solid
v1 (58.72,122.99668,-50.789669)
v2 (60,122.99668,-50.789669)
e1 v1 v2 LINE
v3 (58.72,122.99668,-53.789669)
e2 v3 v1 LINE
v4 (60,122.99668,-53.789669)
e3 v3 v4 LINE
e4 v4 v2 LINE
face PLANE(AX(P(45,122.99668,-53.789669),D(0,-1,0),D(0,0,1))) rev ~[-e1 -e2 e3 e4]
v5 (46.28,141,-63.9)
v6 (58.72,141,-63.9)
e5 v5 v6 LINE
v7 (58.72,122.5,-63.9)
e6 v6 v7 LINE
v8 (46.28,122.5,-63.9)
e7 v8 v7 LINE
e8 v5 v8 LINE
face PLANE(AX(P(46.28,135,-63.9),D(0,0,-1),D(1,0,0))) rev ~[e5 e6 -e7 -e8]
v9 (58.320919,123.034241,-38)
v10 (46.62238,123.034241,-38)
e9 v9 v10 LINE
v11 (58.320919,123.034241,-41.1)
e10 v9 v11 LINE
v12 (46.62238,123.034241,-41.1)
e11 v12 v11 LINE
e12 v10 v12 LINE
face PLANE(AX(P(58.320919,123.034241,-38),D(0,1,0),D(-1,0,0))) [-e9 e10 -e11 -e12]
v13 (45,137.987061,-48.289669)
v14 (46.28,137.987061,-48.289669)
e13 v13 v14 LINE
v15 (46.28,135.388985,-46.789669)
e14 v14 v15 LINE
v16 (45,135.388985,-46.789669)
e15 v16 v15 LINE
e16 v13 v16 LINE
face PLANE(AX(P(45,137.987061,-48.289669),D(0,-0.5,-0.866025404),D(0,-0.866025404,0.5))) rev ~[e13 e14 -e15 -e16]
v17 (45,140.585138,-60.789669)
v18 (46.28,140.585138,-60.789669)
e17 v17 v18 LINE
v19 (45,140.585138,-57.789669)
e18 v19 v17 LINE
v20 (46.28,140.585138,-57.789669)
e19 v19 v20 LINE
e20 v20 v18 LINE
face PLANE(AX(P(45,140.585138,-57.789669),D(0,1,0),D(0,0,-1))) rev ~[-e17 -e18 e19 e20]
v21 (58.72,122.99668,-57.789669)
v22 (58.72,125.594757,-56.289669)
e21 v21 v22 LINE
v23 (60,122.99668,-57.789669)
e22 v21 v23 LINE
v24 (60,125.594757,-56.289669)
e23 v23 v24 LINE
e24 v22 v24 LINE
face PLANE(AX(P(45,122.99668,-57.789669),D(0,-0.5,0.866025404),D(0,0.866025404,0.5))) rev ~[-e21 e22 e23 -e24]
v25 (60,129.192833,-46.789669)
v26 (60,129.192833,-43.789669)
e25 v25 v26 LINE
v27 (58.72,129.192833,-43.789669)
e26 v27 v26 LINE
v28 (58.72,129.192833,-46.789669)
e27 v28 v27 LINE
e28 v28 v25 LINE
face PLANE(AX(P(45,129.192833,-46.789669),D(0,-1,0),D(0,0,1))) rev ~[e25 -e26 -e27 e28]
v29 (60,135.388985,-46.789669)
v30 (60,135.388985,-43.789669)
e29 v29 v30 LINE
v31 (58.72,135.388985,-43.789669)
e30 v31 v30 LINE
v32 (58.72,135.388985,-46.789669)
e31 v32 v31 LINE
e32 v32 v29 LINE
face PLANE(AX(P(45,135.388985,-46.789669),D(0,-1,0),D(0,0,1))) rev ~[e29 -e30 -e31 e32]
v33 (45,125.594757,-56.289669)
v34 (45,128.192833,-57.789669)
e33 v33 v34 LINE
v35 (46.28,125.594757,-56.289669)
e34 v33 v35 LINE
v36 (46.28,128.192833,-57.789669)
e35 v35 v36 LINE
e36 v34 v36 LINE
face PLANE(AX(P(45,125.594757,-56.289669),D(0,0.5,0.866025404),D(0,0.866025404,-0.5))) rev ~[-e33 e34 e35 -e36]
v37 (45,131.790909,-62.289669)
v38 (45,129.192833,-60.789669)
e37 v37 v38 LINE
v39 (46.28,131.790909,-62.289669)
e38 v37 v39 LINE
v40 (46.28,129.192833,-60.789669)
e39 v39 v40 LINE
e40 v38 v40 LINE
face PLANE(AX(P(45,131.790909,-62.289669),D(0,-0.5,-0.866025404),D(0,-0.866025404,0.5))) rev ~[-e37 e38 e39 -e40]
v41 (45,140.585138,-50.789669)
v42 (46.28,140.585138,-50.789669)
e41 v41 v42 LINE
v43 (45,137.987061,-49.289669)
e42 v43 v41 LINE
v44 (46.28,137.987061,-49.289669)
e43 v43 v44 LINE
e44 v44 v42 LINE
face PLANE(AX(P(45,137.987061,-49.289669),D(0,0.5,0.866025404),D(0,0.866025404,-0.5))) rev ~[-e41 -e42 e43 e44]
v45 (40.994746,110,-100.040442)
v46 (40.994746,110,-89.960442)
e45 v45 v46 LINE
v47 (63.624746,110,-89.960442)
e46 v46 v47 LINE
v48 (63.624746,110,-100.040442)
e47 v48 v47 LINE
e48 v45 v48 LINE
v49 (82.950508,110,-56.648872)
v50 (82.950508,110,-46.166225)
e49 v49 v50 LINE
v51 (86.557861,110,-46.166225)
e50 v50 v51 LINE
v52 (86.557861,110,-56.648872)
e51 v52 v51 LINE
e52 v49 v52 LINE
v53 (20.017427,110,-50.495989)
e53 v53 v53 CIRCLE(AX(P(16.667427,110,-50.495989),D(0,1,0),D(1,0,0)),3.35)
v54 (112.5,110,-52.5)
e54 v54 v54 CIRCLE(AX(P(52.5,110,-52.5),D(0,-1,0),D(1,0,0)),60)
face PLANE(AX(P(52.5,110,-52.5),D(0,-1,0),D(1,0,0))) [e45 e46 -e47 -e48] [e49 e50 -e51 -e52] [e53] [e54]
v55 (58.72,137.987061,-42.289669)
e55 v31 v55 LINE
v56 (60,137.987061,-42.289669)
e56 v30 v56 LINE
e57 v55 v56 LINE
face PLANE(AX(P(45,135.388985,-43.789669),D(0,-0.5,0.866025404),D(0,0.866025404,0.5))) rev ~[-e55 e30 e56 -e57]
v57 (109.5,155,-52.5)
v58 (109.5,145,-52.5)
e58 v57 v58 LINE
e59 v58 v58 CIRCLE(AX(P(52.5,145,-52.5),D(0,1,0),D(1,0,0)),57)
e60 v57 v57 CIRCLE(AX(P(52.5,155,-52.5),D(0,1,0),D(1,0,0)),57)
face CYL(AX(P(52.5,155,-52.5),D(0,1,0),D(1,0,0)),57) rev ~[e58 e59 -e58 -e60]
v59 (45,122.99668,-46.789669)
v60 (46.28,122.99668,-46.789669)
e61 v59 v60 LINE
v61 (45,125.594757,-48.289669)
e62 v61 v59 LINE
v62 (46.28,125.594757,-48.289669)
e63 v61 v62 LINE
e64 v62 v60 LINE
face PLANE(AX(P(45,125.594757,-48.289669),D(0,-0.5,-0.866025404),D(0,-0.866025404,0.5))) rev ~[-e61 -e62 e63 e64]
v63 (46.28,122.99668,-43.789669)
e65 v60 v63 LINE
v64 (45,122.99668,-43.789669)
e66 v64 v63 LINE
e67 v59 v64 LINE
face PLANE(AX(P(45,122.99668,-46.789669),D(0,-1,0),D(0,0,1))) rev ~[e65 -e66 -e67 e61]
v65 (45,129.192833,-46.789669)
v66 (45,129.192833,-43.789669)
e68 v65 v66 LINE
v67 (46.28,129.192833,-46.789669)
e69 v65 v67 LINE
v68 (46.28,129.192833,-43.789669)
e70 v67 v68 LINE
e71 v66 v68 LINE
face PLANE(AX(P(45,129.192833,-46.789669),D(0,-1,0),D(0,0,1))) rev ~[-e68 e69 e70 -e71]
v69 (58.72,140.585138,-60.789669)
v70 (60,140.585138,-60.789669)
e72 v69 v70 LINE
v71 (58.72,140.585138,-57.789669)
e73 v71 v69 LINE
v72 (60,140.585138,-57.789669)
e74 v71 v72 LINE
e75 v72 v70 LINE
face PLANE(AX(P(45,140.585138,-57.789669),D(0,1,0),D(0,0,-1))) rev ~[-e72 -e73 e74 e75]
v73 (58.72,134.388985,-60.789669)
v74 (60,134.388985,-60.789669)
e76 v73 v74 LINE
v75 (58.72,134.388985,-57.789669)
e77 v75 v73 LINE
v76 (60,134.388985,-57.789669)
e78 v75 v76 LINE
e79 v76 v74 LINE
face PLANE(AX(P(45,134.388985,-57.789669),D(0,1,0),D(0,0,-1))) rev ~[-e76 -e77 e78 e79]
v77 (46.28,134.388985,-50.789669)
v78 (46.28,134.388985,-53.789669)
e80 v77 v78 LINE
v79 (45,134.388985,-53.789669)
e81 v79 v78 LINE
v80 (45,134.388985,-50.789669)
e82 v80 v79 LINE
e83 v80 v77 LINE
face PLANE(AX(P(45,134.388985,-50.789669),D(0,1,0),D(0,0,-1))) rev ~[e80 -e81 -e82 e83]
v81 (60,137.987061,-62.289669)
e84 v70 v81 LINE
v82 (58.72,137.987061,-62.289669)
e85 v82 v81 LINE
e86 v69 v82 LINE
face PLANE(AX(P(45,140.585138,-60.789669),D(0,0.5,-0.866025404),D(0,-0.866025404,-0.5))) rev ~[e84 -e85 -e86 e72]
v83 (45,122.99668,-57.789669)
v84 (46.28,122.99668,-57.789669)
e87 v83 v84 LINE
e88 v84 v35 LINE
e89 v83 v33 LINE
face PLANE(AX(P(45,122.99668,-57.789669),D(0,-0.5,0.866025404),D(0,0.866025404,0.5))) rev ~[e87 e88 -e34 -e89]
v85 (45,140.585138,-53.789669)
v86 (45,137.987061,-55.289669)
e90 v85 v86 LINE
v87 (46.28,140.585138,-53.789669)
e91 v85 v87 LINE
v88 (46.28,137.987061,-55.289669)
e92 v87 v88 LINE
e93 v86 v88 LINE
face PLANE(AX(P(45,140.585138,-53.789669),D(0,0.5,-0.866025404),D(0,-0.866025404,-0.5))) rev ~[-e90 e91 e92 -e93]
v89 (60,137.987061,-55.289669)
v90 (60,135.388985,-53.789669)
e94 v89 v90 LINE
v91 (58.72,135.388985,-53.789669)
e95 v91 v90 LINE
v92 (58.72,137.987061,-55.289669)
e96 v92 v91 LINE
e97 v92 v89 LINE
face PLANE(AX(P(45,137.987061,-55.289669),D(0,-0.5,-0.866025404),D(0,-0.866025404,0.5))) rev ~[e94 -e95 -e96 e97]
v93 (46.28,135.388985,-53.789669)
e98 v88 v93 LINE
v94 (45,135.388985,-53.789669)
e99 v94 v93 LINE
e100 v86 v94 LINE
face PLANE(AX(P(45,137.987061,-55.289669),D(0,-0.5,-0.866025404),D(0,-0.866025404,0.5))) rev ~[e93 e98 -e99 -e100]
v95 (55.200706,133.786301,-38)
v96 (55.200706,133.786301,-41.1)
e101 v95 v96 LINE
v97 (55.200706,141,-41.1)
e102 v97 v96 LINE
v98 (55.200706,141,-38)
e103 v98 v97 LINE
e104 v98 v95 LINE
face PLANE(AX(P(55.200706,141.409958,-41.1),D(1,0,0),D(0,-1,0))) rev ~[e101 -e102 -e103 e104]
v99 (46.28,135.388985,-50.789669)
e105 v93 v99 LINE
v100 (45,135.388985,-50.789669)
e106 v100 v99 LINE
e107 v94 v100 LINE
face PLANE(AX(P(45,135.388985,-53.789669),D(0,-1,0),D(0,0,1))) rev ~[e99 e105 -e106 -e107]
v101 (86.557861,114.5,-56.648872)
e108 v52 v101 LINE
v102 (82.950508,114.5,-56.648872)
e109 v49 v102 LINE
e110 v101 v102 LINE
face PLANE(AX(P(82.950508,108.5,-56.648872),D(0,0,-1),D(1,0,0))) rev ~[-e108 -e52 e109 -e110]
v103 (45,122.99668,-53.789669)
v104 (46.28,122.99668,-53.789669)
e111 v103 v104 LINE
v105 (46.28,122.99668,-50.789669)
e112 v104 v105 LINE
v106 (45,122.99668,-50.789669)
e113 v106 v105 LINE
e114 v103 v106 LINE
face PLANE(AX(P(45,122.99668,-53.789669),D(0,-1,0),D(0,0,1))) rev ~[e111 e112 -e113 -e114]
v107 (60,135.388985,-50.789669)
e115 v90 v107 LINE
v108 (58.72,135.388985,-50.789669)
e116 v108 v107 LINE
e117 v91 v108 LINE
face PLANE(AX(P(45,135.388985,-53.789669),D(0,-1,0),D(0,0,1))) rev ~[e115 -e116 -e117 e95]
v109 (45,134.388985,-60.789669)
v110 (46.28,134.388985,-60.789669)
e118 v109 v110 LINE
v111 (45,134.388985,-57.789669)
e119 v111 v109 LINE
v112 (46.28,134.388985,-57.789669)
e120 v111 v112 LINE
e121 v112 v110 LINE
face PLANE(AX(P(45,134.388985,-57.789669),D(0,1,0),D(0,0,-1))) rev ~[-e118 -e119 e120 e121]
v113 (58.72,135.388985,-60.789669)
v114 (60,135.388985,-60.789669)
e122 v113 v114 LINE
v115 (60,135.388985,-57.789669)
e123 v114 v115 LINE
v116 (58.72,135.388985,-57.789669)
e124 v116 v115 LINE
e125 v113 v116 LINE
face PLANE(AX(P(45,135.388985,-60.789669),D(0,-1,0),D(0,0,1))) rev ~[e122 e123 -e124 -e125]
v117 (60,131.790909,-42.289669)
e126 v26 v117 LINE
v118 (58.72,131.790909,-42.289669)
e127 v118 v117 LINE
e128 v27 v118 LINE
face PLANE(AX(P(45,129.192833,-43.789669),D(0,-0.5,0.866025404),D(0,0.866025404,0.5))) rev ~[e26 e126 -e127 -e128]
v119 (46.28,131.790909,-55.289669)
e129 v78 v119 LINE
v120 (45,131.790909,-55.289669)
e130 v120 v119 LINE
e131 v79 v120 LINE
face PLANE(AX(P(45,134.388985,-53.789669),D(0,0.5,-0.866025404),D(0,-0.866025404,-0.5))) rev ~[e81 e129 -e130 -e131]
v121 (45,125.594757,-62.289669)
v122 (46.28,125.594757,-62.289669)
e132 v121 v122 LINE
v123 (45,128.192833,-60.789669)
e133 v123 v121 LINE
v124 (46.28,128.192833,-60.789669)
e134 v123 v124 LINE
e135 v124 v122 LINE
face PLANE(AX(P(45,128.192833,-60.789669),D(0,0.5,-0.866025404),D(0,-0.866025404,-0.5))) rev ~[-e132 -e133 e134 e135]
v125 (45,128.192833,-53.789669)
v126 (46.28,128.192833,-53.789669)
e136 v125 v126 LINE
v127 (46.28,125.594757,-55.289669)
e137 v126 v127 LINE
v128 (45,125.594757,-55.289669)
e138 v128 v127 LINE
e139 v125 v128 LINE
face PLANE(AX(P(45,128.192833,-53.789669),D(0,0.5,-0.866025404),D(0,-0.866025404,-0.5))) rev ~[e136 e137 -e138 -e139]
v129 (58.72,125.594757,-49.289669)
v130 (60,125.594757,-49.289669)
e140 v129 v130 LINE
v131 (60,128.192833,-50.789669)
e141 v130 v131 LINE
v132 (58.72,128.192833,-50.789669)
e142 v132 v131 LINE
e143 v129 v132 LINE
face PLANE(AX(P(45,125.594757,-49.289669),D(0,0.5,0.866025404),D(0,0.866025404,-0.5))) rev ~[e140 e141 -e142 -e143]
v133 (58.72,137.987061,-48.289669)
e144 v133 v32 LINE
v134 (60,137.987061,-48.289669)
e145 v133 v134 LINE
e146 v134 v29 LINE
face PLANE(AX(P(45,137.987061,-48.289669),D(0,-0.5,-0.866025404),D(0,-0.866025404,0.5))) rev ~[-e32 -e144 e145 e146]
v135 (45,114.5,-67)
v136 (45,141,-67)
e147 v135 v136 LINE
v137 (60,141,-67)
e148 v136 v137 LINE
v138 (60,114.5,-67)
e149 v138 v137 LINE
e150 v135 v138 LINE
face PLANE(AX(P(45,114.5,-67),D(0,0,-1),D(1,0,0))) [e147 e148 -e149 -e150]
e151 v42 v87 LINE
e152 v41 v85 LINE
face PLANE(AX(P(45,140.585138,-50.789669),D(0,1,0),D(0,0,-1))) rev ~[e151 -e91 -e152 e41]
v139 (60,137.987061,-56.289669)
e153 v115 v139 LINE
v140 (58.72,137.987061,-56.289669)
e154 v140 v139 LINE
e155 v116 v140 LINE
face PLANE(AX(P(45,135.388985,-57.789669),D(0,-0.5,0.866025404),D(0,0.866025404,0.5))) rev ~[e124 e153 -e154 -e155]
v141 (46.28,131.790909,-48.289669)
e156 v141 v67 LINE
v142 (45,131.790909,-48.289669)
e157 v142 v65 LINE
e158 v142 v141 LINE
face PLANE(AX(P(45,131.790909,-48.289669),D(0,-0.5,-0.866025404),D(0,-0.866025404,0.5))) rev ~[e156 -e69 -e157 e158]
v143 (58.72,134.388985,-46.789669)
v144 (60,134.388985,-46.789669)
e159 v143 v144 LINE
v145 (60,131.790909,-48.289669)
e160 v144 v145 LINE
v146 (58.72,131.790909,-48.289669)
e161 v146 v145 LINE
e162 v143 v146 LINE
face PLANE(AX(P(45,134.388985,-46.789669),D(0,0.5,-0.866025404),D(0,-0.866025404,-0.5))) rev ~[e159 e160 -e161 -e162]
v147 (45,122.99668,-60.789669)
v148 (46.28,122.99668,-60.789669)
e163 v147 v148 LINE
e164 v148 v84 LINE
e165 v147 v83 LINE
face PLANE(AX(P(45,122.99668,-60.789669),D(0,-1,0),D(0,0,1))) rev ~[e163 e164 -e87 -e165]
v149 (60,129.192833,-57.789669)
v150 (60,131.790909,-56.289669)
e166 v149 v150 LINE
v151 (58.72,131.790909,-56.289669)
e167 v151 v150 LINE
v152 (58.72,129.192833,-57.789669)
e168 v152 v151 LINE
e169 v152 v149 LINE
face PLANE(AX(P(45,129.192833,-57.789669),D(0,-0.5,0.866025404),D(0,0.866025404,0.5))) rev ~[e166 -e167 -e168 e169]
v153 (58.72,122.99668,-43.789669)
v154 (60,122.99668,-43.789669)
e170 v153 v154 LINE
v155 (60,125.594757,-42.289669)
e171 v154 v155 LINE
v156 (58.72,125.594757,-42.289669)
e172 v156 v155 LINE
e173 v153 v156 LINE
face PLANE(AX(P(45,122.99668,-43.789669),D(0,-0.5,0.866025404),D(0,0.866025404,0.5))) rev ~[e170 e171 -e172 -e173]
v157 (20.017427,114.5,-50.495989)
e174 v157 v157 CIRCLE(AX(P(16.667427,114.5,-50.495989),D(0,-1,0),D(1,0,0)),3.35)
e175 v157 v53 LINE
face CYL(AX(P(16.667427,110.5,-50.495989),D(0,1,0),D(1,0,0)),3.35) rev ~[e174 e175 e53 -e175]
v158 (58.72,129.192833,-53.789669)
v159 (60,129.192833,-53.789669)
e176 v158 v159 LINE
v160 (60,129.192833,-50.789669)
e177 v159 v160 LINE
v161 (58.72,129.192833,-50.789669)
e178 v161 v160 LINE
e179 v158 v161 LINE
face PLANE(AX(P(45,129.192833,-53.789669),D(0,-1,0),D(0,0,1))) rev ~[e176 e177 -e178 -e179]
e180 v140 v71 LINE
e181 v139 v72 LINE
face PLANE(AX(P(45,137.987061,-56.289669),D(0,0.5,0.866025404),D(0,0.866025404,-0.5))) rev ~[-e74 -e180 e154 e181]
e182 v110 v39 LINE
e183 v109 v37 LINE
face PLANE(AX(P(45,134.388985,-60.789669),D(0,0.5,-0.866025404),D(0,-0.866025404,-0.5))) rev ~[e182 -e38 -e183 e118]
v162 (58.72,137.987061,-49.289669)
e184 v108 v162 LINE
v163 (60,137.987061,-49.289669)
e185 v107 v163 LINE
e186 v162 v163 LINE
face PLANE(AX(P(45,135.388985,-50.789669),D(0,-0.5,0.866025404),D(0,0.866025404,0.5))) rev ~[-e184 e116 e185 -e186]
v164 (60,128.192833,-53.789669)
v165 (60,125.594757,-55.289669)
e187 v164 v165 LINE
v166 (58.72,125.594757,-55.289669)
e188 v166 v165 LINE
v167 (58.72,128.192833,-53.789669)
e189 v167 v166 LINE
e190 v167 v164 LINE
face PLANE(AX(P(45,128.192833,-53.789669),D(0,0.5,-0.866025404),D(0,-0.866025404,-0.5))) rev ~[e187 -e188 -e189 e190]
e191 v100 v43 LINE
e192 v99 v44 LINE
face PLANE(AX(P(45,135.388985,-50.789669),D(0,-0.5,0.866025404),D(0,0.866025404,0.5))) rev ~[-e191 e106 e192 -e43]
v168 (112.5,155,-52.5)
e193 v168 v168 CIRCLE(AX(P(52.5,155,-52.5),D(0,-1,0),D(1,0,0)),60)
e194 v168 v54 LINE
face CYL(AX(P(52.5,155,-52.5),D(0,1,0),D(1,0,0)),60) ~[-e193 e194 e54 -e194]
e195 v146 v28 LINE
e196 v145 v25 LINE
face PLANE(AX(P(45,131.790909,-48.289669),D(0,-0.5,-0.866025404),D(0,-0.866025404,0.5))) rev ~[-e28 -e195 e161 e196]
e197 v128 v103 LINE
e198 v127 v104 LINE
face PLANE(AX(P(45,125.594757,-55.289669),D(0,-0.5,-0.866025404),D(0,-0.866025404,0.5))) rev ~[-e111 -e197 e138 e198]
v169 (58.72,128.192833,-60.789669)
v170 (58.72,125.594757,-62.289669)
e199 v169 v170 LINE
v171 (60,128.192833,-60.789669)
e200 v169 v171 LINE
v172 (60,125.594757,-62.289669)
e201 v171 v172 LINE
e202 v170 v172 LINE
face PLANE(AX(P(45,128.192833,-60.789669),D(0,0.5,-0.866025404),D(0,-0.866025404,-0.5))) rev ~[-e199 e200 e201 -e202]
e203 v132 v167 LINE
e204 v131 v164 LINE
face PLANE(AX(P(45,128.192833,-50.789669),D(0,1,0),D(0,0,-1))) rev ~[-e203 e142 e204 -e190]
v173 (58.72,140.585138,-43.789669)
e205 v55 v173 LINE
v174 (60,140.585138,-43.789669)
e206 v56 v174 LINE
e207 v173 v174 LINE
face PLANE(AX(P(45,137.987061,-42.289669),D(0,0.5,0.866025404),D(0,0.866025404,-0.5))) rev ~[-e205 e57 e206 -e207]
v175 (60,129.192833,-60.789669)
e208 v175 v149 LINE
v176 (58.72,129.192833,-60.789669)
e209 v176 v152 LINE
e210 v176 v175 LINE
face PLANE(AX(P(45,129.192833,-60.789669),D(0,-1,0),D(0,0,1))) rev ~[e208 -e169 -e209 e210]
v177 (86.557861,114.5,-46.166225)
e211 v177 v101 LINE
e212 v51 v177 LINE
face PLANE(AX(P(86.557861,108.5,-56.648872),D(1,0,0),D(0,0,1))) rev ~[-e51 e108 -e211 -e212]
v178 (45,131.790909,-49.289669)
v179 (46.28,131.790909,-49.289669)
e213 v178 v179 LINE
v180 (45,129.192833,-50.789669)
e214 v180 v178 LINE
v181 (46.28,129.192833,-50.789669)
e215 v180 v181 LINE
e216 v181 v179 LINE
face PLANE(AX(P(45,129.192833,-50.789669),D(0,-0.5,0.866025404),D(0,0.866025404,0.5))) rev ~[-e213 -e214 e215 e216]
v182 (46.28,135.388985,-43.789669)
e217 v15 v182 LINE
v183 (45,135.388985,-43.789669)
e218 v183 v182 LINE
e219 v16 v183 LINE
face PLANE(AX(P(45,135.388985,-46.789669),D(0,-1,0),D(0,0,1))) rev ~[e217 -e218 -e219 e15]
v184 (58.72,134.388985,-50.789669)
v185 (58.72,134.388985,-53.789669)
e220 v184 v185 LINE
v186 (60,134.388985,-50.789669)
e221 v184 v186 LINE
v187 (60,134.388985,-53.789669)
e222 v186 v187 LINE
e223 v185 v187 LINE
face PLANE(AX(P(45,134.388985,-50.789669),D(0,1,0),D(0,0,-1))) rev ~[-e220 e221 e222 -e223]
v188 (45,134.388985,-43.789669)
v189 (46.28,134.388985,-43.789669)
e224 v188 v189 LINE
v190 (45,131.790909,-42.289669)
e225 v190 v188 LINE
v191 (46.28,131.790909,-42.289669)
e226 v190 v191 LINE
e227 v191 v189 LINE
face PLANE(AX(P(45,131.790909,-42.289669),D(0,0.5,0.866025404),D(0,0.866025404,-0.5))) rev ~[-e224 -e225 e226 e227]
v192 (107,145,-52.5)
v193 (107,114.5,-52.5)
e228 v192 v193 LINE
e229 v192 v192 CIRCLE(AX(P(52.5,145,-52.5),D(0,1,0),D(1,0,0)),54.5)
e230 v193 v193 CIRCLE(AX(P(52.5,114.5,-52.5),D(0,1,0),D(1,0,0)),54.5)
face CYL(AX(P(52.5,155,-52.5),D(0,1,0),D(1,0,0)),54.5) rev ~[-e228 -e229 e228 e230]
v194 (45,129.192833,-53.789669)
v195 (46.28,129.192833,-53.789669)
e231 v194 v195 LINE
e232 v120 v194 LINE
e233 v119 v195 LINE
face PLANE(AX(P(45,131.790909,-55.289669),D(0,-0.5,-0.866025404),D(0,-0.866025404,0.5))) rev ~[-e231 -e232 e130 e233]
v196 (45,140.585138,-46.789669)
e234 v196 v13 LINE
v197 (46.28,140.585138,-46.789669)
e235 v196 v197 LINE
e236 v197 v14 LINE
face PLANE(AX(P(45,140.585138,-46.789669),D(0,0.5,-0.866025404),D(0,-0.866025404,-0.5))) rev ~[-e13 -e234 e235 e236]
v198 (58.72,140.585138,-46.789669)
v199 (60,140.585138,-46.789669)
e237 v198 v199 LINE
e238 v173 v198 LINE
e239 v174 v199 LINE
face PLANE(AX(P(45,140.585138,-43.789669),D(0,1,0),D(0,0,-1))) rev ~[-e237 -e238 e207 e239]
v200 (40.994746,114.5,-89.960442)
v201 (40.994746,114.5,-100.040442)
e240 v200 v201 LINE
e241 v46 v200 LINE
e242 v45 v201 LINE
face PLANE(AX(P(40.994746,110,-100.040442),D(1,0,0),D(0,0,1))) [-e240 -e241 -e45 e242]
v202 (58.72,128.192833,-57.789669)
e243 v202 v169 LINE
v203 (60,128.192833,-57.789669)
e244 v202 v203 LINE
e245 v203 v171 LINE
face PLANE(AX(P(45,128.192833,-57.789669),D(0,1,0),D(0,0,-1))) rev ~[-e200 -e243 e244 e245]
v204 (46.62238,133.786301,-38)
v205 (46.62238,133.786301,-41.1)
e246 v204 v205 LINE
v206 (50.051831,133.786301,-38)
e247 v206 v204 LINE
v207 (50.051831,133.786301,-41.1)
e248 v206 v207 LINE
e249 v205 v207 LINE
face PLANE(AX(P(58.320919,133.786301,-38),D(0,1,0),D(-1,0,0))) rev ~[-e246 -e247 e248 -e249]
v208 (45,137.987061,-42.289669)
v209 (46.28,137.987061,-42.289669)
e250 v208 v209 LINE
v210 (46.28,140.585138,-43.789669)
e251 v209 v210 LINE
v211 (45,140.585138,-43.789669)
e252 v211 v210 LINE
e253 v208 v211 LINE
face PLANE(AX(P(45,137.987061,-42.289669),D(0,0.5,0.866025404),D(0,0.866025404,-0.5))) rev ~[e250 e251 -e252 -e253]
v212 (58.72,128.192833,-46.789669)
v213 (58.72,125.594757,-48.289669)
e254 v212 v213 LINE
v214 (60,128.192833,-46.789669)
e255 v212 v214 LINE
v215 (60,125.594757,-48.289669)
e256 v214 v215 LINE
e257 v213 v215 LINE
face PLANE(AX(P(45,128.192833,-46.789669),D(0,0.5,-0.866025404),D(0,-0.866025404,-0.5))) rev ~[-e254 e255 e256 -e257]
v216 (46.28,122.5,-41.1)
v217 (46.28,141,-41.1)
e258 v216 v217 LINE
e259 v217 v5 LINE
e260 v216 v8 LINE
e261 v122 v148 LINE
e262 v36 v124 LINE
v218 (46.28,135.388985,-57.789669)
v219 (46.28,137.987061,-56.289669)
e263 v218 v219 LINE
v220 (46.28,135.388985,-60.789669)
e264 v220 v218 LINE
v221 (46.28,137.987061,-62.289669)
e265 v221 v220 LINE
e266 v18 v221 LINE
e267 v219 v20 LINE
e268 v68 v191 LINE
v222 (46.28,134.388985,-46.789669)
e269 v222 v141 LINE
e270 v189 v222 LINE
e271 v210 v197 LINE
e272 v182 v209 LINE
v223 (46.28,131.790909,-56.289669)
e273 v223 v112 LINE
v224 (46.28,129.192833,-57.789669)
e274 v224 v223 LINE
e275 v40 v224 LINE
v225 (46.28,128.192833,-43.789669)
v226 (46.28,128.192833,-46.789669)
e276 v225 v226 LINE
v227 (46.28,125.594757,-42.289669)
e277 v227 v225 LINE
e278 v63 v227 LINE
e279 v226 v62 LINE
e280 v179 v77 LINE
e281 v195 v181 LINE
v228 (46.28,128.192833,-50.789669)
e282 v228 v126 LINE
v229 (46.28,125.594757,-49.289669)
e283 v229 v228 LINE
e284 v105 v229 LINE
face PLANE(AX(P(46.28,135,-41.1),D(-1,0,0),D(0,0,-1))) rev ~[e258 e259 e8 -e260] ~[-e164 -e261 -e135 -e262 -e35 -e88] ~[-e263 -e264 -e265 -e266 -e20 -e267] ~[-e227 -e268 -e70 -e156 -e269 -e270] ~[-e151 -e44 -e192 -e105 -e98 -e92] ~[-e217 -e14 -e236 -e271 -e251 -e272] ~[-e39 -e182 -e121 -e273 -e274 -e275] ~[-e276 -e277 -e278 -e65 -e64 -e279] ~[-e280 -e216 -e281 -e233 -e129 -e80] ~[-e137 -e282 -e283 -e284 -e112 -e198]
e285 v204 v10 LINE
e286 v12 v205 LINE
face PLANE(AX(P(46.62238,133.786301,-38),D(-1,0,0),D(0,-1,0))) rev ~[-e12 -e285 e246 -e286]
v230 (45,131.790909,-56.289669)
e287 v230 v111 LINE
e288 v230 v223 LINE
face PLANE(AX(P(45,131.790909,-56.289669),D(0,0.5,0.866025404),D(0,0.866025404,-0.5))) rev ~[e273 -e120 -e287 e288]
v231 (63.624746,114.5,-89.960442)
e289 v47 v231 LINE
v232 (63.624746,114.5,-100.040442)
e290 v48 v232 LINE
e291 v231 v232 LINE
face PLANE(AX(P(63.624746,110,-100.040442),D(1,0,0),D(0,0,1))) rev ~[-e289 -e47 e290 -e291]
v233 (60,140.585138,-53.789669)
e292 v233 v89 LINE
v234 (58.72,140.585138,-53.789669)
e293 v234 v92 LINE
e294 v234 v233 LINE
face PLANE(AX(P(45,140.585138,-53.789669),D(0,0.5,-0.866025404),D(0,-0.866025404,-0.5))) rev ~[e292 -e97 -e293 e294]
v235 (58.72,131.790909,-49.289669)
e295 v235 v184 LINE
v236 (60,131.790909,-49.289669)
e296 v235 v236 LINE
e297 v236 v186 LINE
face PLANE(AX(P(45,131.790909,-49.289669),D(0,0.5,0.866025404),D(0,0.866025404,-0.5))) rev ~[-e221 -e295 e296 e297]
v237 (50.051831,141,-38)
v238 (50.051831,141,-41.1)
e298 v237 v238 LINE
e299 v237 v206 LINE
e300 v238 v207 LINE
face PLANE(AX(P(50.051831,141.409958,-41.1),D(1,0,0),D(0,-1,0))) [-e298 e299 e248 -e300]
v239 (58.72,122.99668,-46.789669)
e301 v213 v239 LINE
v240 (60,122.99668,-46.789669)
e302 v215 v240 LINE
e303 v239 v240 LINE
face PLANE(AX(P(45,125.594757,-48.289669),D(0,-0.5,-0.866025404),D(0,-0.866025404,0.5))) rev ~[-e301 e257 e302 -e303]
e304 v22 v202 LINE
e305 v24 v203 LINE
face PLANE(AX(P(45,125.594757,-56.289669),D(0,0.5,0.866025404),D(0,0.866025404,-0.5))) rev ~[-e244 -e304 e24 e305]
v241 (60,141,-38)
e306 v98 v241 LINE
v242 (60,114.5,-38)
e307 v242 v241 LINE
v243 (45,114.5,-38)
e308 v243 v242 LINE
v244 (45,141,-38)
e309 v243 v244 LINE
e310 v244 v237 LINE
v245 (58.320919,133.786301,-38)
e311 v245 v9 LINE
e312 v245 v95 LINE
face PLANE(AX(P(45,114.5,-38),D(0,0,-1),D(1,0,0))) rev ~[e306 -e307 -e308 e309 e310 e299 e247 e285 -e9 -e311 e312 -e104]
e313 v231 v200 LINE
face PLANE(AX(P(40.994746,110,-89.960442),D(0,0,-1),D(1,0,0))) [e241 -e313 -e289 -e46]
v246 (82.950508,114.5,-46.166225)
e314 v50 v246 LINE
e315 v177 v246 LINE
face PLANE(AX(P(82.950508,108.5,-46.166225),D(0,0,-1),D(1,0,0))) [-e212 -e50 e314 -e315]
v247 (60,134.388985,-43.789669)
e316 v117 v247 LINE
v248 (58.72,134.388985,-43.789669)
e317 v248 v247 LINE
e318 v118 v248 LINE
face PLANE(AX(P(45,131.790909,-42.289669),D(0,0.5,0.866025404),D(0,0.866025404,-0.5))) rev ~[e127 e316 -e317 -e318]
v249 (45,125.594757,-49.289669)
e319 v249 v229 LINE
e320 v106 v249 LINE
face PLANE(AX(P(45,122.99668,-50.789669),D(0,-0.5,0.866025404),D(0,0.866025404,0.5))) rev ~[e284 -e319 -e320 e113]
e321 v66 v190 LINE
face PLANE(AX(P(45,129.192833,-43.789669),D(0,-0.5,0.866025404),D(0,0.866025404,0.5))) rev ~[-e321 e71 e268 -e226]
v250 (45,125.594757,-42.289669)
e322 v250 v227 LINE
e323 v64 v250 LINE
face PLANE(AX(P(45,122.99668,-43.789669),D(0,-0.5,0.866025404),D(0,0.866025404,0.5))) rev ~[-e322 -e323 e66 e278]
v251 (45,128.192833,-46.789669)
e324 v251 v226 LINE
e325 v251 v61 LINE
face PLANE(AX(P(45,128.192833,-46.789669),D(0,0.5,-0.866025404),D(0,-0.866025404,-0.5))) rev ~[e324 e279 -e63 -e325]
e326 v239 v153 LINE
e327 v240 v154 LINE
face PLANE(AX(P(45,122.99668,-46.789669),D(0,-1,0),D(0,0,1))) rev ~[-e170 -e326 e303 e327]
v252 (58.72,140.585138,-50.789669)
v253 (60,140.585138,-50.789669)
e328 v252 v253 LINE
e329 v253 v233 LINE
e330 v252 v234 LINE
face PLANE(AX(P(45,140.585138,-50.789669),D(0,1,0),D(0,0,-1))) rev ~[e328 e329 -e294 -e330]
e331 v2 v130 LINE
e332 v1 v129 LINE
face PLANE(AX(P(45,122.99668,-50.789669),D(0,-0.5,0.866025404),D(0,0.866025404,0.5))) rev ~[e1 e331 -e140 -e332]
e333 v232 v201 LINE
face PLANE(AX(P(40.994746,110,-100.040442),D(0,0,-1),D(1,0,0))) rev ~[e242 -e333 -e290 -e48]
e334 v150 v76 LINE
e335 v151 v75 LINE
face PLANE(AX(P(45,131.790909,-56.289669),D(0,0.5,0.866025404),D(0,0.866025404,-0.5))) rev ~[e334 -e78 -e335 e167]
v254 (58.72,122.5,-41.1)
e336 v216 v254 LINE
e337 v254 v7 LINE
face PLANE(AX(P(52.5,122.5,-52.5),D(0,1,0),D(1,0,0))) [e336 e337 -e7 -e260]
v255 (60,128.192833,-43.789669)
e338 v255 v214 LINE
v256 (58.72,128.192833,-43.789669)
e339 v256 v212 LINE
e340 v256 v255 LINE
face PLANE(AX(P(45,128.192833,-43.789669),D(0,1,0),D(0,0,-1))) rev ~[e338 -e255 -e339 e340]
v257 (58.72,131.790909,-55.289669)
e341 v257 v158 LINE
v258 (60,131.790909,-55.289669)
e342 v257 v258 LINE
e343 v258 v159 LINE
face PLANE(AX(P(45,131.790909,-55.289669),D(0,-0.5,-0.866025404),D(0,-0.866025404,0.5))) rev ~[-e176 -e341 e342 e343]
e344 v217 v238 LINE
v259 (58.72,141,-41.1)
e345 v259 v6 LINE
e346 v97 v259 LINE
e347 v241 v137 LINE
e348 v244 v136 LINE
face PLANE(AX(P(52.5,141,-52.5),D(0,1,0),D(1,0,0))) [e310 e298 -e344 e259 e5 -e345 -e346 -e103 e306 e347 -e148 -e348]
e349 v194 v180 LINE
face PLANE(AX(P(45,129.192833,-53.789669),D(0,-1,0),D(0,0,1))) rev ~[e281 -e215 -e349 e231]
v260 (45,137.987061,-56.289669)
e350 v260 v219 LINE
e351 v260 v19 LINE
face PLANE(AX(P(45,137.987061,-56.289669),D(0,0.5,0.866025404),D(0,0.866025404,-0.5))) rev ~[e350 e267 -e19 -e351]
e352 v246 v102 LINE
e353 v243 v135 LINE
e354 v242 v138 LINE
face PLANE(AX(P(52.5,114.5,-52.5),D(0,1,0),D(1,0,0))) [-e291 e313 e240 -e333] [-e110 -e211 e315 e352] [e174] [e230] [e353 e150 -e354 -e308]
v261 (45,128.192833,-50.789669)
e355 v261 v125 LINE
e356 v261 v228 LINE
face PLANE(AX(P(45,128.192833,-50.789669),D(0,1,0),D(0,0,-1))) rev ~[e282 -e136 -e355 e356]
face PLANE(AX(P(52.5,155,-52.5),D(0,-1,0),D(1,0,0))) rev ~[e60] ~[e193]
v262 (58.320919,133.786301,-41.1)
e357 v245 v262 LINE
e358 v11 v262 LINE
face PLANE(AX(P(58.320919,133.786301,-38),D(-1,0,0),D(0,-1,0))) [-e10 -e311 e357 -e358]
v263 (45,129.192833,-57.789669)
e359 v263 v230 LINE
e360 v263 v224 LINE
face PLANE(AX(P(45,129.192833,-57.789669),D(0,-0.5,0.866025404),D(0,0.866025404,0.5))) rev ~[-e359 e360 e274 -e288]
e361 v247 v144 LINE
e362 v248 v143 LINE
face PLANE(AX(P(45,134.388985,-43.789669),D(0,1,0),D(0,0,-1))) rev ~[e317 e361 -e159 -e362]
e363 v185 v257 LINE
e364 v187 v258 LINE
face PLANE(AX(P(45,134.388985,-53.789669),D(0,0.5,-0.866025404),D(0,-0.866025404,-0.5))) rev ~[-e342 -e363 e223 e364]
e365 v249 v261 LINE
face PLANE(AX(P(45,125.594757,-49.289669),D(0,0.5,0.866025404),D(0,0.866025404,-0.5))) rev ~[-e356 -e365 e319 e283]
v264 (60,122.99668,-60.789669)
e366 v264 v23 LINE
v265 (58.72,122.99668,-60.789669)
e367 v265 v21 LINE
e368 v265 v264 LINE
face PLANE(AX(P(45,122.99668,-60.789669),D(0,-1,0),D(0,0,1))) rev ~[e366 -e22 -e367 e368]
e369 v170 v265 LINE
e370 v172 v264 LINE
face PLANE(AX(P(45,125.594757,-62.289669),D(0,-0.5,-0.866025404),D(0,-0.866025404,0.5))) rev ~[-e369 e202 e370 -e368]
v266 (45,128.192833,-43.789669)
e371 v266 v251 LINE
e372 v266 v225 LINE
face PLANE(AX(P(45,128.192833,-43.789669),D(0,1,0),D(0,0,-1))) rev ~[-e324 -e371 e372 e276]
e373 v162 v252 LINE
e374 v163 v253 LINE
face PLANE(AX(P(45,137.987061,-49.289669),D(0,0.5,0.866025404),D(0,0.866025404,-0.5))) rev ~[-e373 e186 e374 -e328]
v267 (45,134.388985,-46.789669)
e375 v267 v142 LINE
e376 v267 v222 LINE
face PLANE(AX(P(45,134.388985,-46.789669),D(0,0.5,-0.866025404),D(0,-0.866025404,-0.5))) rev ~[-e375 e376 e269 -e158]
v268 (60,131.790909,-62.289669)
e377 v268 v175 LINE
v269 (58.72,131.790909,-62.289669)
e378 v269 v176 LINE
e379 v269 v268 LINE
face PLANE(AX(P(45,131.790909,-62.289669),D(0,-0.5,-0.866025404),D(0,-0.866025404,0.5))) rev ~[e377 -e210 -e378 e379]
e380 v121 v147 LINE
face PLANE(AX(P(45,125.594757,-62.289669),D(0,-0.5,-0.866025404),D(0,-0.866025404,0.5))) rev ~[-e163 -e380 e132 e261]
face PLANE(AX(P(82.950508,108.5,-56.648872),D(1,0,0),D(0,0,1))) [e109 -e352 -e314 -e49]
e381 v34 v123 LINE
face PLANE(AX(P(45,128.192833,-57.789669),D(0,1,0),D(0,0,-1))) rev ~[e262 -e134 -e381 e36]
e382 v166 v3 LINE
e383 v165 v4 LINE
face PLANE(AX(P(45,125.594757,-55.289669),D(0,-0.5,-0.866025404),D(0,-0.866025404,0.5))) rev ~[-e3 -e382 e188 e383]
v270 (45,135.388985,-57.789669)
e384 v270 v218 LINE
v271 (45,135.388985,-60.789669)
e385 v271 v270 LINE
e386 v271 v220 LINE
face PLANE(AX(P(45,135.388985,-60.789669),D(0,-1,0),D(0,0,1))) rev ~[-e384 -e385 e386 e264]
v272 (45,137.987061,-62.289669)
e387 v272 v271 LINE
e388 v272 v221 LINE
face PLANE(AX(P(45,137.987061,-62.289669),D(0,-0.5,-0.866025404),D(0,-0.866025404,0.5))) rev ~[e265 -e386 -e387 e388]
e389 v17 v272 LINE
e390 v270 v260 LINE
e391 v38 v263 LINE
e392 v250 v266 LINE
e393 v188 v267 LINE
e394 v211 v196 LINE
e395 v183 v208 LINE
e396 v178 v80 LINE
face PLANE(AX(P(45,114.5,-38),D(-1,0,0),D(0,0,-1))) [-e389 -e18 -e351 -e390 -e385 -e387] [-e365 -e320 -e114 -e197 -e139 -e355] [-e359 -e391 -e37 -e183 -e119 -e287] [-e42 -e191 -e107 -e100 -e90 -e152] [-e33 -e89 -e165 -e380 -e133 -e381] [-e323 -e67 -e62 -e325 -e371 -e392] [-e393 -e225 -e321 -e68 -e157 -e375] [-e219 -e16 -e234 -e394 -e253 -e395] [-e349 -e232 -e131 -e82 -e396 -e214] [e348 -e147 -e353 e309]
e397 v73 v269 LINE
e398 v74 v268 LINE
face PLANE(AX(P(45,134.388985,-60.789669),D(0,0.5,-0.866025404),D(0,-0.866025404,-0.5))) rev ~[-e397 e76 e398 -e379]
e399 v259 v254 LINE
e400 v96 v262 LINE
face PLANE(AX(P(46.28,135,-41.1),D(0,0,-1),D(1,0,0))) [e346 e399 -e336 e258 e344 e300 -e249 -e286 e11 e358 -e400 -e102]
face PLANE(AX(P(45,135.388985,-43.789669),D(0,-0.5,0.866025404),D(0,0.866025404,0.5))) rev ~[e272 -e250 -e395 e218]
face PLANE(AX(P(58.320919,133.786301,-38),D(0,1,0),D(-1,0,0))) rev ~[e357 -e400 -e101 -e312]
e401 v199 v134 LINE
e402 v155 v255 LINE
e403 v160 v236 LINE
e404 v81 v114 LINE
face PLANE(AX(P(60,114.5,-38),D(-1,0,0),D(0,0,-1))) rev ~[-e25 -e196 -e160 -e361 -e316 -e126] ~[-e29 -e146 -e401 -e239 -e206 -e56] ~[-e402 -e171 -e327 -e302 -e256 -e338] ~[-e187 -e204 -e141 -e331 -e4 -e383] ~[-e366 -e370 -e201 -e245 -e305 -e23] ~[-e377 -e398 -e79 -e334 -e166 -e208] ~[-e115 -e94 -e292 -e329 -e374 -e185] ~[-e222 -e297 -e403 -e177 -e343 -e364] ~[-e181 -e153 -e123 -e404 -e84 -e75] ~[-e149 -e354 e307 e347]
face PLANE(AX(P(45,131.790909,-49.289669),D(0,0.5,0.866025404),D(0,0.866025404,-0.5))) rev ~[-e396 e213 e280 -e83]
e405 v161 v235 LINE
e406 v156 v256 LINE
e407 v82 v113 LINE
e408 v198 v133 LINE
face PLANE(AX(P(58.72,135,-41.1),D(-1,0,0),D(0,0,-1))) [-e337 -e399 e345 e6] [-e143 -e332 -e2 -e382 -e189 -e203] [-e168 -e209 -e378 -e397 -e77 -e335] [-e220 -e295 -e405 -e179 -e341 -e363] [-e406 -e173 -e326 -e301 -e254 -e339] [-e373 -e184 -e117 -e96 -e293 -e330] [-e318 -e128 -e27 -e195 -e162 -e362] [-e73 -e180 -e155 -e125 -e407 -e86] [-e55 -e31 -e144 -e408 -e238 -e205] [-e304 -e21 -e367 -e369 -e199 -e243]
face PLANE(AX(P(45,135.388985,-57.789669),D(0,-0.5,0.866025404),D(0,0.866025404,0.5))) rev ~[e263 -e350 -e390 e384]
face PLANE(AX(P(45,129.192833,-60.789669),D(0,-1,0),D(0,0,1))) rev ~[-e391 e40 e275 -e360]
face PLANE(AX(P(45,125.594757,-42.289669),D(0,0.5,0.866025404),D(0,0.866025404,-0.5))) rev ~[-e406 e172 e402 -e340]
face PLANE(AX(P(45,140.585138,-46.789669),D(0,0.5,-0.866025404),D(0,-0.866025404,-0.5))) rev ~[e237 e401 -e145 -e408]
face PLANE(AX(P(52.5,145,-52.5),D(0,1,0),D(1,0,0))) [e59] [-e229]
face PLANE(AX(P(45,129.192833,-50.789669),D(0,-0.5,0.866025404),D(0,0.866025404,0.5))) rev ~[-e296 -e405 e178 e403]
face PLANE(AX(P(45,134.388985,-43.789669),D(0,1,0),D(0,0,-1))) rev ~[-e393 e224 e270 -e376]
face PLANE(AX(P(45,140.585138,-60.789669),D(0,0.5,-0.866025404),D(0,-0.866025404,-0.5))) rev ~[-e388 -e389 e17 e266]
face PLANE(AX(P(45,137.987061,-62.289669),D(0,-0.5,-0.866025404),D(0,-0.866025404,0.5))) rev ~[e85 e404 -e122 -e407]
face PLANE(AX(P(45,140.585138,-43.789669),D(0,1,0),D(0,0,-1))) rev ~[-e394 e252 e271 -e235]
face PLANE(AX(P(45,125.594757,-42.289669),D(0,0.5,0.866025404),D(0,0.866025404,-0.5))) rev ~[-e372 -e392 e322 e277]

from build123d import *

# Parameters (mm, degrees)
SKETCH046_R          = 60
PAD019_DEPTH         = 45
SKETCH047_R          = 54.5
POCKET020_DEPTH      = 40.5
SKETCH054_W          = 13.996185
SKETCH054_H          = 10.514995
POCKET022_DEPTH      = 3
SKETCH055_W          = 3.607353
SKETCH055_H          = 10.482647
POCKET023_DEPTH      = 46.501
SKETCH056_W          = 22.63
SKETCH056_H          = 10.08
POCKET024_DEPTH      = 5
SKETCH058_R          = 3.35
POCKET025_DEPTH      = 5
POCKET025_DEPTH_BACK = 100
SKETCH059_R          = 57
POCKET026_DEPTH      = 10
SKETCH061_W          = 15
SKETCH061_H          = 29
PAD028_DEPTH         = 26.5
SKETCH062_W          = 12.44
SKETCH062_H          = 22.8
POCKET027_DEPTH      = 12.5
POCKET027_DEPTH_BACK = 6
SKETCH063_W          = 11.698539
SKETCH063_H          = 10.75206
POCKET031_DEPTH      = 5
POCKET032_DEPTH      = 18.28
SKETCH070_W          = 5.148875
SKETCH070_H          = 8.518356
POCKET033_DEPTH      = 5


with BuildPart() as part:
    # Sketch046 → Pad019 (new body)
    with BuildSketch(Plane.XZ):
        with Locations((52.5, -52.5)):
            Circle(SKETCH046_R)
    extrude(amount=PAD019_DEPTH)

    # Sketch047 (on Face2 of Pad019) → Pocket020 (cut)
    with BuildSketch(Plane(origin=(0, 0, 0), x_dir=(1, 0, 0), z_dir=(0, 1, 0))):
        with Locations((52.5, 52.5)):
            Circle(SKETCH047_R)
    extrude(amount=-POCKET020_DEPTH, mode=Mode.SUBTRACT)

    # Sketch054 → Pocket022 (cut)
    with BuildSketch(Plane.XZ.offset(52.5)):
        with Locations((89.9295195, -51.4149685)):
            Rectangle(SKETCH054_W, SKETCH054_H)
    extrude(amount=-POCKET022_DEPTH, mode=Mode.SUBTRACT)

    # Sketch055 (on Face37 of Pocket022) → Pocket023 (cut, through all)
    with BuildSketch(Plane.XZ.offset(46.5)):
        with Locations((84.7541845, -51.4075485)):
            Rectangle(SKETCH055_W, SKETCH055_H)
    extrude(amount=-POCKET023_DEPTH, mode=Mode.SUBTRACT)

    # Sketch056 (on Face3 of Pocket023) → Pocket024 (cut)
    with BuildSketch(Plane.XZ.offset(45)):
        with Locations((52.3097458031, -95.0004416785)):
            Rectangle(SKETCH056_W, SKETCH056_H)
    extrude(amount=-POCKET024_DEPTH, mode=Mode.SUBTRACT)

    # Sketch058 → Pocket025 (cut, two sides)
    with BuildSketch(Plane(origin=(0, -44.5, 0), x_dir=(1, 0, 0), z_dir=(0, 1, 0))) as pocket025_sk:
        with Locations((16.6674273862, 50.4959887414)):
            Circle(SKETCH058_R)
    extrude(amount=-POCKET025_DEPTH, mode=Mode.SUBTRACT)
    extrude(pocket025_sk.sketch, amount=POCKET025_DEPTH_BACK, mode=Mode.SUBTRACT)

    # Sketch059 (on Face2 of Pocket025) → Pocket026 (cut)
    with BuildSketch(Plane(origin=(0, 0, 0), x_dir=(1, 0, 0), z_dir=(0, 1, 0))):
        with Locations((52.5, 52.5)):
            Circle(SKETCH059_R)
    extrude(amount=-POCKET026_DEPTH, mode=Mode.SUBTRACT)

    # Sketch061 (on Face15 of Pocket026) → Pad028 (join)
    with BuildSketch(Plane(origin=(0, -40.5, 0), x_dir=(1, 0, 0), z_dir=(0, 1, 0))):
        with Locations((52.5, 52.5)):
            Rectangle(SKETCH061_W, SKETCH061_H)
    extrude(amount=PAD028_DEPTH)

    # Sketch062 → Pocket027 (cut, two sides)
    with BuildSketch(Plane(origin=(0, -20, 0), x_dir=(1, 0, 0), z_dir=(0, 1, 0))) as pocket027_sk:
        with Locations((52.5, 52.5)):
            Rectangle(SKETCH062_W, SKETCH062_H)
    extrude(amount=-POCKET027_DEPTH, mode=Mode.SUBTRACT)
    extrude(pocket027_sk.sketch, amount=POCKET027_DEPTH_BACK, mode=Mode.SUBTRACT)

    # Sketch063 (on Face18 of Pocket027) → Pocket031 (cut)
    with BuildSketch(Plane(origin=(0, 0, -38), x_dir=(-1, 0, 0), z_dir=(0, 0, 1))):
        with Locations((-52.4716495, 26.589729)):
            Rectangle(SKETCH063_W, SKETCH063_H)
    extrude(amount=-POCKET031_DEPTH, mode=Mode.SUBTRACT)

    # Sketch064 (on Face17 of Pocket031) → Pocket032 (cut)
    with BuildSketch(Plane(origin=(45, 0, 0), x_dir=(0, 0, -1), z_dir=(-1, 0, 0))):
        Polygon((48.289669, 29.4052434227), (46.789669, 32.0033196341), (43.789669, 32.0033196341), (42.289669, 29.4052434227), (43.789669, 26.8071672114), (46.789669, 26.8071672114), align=None)
        Polygon((48.289669, 23.209091), (46.789669, 25.8071672114), (43.789669, 25.8071672114), (42.289669, 23.209091), (43.789669, 20.6110147886), (46.789669, 20.6110147886), align=None)
        Polygon((55.289669, 29.4052434227), (53.789669, 32.0033196341), (50.789669, 32.0033196341), (49.289669, 29.4052434227), (50.789669, 26.8071672114), (53.789669, 26.8071672114), align=None)
        Polygon((55.289669, 23.209091), (53.789669, 25.8071672114), (50.789669, 25.8071672114), (49.289669, 23.209091), (50.789669, 20.6110147886), (53.789669, 20.6110147886), align=None)
        Polygon((62.289669, 29.4052434227), (60.789669, 32.0033196341), (57.789669, 32.0033196341), (56.289669, 29.4052434227), (57.789669, 26.8071672114), (60.789669, 26.8071672114), align=None)
        Polygon((62.289669, 23.209091), (60.789669, 25.8071672114), (57.789669, 25.8071672114), (56.289669, 23.209091), (57.789669, 20.6110147886), (60.789669, 20.6110147886), align=None)
        Polygon((48.289669, 17.0129385773), (46.789669, 19.6110147886), (43.789669, 19.6110147886), (42.289669, 17.0129385773), (43.789669, 14.4148623659), (46.789669, 14.4148623659), align=None)
        Polygon((55.289669, 17.0129385773), (53.789669, 19.6110147886), (50.789669, 19.6110147886), (49.289669, 17.0129385773), (50.789669, 14.4148623659), (53.789669, 14.4148623659), align=None)
        Polygon((62.289669, 17.0129385773), (60.789669, 19.6110147886), (57.789669, 19.6110147886), (56.289669, 17.0129385773), (57.789669, 14.4148623659), (60.789669, 14.4148623659), align=None)
    extrude(amount=-POCKET032_DEPTH, mode=Mode.SUBTRACT)

    # Sketch070 (on Face167 of Pad029) → Pocket033 (cut)
    with BuildSketch(Plane(origin=(0, 0, -41.1), x_dir=(1, 0, 0), z_dir=(0, 0, -1))):
        with Locations((52.6262685, 17.84922)):
            Rectangle(SKETCH070_W, SKETCH070_H)
    extrude(amount=-POCKET033_DEPTH, mode=Mode.SUBTRACT)


with BuildPart() as part_1:
    # Body008 placement: moved
    add(part.part.moved(Location((0, 155, 0))))


solid = part_1.part
